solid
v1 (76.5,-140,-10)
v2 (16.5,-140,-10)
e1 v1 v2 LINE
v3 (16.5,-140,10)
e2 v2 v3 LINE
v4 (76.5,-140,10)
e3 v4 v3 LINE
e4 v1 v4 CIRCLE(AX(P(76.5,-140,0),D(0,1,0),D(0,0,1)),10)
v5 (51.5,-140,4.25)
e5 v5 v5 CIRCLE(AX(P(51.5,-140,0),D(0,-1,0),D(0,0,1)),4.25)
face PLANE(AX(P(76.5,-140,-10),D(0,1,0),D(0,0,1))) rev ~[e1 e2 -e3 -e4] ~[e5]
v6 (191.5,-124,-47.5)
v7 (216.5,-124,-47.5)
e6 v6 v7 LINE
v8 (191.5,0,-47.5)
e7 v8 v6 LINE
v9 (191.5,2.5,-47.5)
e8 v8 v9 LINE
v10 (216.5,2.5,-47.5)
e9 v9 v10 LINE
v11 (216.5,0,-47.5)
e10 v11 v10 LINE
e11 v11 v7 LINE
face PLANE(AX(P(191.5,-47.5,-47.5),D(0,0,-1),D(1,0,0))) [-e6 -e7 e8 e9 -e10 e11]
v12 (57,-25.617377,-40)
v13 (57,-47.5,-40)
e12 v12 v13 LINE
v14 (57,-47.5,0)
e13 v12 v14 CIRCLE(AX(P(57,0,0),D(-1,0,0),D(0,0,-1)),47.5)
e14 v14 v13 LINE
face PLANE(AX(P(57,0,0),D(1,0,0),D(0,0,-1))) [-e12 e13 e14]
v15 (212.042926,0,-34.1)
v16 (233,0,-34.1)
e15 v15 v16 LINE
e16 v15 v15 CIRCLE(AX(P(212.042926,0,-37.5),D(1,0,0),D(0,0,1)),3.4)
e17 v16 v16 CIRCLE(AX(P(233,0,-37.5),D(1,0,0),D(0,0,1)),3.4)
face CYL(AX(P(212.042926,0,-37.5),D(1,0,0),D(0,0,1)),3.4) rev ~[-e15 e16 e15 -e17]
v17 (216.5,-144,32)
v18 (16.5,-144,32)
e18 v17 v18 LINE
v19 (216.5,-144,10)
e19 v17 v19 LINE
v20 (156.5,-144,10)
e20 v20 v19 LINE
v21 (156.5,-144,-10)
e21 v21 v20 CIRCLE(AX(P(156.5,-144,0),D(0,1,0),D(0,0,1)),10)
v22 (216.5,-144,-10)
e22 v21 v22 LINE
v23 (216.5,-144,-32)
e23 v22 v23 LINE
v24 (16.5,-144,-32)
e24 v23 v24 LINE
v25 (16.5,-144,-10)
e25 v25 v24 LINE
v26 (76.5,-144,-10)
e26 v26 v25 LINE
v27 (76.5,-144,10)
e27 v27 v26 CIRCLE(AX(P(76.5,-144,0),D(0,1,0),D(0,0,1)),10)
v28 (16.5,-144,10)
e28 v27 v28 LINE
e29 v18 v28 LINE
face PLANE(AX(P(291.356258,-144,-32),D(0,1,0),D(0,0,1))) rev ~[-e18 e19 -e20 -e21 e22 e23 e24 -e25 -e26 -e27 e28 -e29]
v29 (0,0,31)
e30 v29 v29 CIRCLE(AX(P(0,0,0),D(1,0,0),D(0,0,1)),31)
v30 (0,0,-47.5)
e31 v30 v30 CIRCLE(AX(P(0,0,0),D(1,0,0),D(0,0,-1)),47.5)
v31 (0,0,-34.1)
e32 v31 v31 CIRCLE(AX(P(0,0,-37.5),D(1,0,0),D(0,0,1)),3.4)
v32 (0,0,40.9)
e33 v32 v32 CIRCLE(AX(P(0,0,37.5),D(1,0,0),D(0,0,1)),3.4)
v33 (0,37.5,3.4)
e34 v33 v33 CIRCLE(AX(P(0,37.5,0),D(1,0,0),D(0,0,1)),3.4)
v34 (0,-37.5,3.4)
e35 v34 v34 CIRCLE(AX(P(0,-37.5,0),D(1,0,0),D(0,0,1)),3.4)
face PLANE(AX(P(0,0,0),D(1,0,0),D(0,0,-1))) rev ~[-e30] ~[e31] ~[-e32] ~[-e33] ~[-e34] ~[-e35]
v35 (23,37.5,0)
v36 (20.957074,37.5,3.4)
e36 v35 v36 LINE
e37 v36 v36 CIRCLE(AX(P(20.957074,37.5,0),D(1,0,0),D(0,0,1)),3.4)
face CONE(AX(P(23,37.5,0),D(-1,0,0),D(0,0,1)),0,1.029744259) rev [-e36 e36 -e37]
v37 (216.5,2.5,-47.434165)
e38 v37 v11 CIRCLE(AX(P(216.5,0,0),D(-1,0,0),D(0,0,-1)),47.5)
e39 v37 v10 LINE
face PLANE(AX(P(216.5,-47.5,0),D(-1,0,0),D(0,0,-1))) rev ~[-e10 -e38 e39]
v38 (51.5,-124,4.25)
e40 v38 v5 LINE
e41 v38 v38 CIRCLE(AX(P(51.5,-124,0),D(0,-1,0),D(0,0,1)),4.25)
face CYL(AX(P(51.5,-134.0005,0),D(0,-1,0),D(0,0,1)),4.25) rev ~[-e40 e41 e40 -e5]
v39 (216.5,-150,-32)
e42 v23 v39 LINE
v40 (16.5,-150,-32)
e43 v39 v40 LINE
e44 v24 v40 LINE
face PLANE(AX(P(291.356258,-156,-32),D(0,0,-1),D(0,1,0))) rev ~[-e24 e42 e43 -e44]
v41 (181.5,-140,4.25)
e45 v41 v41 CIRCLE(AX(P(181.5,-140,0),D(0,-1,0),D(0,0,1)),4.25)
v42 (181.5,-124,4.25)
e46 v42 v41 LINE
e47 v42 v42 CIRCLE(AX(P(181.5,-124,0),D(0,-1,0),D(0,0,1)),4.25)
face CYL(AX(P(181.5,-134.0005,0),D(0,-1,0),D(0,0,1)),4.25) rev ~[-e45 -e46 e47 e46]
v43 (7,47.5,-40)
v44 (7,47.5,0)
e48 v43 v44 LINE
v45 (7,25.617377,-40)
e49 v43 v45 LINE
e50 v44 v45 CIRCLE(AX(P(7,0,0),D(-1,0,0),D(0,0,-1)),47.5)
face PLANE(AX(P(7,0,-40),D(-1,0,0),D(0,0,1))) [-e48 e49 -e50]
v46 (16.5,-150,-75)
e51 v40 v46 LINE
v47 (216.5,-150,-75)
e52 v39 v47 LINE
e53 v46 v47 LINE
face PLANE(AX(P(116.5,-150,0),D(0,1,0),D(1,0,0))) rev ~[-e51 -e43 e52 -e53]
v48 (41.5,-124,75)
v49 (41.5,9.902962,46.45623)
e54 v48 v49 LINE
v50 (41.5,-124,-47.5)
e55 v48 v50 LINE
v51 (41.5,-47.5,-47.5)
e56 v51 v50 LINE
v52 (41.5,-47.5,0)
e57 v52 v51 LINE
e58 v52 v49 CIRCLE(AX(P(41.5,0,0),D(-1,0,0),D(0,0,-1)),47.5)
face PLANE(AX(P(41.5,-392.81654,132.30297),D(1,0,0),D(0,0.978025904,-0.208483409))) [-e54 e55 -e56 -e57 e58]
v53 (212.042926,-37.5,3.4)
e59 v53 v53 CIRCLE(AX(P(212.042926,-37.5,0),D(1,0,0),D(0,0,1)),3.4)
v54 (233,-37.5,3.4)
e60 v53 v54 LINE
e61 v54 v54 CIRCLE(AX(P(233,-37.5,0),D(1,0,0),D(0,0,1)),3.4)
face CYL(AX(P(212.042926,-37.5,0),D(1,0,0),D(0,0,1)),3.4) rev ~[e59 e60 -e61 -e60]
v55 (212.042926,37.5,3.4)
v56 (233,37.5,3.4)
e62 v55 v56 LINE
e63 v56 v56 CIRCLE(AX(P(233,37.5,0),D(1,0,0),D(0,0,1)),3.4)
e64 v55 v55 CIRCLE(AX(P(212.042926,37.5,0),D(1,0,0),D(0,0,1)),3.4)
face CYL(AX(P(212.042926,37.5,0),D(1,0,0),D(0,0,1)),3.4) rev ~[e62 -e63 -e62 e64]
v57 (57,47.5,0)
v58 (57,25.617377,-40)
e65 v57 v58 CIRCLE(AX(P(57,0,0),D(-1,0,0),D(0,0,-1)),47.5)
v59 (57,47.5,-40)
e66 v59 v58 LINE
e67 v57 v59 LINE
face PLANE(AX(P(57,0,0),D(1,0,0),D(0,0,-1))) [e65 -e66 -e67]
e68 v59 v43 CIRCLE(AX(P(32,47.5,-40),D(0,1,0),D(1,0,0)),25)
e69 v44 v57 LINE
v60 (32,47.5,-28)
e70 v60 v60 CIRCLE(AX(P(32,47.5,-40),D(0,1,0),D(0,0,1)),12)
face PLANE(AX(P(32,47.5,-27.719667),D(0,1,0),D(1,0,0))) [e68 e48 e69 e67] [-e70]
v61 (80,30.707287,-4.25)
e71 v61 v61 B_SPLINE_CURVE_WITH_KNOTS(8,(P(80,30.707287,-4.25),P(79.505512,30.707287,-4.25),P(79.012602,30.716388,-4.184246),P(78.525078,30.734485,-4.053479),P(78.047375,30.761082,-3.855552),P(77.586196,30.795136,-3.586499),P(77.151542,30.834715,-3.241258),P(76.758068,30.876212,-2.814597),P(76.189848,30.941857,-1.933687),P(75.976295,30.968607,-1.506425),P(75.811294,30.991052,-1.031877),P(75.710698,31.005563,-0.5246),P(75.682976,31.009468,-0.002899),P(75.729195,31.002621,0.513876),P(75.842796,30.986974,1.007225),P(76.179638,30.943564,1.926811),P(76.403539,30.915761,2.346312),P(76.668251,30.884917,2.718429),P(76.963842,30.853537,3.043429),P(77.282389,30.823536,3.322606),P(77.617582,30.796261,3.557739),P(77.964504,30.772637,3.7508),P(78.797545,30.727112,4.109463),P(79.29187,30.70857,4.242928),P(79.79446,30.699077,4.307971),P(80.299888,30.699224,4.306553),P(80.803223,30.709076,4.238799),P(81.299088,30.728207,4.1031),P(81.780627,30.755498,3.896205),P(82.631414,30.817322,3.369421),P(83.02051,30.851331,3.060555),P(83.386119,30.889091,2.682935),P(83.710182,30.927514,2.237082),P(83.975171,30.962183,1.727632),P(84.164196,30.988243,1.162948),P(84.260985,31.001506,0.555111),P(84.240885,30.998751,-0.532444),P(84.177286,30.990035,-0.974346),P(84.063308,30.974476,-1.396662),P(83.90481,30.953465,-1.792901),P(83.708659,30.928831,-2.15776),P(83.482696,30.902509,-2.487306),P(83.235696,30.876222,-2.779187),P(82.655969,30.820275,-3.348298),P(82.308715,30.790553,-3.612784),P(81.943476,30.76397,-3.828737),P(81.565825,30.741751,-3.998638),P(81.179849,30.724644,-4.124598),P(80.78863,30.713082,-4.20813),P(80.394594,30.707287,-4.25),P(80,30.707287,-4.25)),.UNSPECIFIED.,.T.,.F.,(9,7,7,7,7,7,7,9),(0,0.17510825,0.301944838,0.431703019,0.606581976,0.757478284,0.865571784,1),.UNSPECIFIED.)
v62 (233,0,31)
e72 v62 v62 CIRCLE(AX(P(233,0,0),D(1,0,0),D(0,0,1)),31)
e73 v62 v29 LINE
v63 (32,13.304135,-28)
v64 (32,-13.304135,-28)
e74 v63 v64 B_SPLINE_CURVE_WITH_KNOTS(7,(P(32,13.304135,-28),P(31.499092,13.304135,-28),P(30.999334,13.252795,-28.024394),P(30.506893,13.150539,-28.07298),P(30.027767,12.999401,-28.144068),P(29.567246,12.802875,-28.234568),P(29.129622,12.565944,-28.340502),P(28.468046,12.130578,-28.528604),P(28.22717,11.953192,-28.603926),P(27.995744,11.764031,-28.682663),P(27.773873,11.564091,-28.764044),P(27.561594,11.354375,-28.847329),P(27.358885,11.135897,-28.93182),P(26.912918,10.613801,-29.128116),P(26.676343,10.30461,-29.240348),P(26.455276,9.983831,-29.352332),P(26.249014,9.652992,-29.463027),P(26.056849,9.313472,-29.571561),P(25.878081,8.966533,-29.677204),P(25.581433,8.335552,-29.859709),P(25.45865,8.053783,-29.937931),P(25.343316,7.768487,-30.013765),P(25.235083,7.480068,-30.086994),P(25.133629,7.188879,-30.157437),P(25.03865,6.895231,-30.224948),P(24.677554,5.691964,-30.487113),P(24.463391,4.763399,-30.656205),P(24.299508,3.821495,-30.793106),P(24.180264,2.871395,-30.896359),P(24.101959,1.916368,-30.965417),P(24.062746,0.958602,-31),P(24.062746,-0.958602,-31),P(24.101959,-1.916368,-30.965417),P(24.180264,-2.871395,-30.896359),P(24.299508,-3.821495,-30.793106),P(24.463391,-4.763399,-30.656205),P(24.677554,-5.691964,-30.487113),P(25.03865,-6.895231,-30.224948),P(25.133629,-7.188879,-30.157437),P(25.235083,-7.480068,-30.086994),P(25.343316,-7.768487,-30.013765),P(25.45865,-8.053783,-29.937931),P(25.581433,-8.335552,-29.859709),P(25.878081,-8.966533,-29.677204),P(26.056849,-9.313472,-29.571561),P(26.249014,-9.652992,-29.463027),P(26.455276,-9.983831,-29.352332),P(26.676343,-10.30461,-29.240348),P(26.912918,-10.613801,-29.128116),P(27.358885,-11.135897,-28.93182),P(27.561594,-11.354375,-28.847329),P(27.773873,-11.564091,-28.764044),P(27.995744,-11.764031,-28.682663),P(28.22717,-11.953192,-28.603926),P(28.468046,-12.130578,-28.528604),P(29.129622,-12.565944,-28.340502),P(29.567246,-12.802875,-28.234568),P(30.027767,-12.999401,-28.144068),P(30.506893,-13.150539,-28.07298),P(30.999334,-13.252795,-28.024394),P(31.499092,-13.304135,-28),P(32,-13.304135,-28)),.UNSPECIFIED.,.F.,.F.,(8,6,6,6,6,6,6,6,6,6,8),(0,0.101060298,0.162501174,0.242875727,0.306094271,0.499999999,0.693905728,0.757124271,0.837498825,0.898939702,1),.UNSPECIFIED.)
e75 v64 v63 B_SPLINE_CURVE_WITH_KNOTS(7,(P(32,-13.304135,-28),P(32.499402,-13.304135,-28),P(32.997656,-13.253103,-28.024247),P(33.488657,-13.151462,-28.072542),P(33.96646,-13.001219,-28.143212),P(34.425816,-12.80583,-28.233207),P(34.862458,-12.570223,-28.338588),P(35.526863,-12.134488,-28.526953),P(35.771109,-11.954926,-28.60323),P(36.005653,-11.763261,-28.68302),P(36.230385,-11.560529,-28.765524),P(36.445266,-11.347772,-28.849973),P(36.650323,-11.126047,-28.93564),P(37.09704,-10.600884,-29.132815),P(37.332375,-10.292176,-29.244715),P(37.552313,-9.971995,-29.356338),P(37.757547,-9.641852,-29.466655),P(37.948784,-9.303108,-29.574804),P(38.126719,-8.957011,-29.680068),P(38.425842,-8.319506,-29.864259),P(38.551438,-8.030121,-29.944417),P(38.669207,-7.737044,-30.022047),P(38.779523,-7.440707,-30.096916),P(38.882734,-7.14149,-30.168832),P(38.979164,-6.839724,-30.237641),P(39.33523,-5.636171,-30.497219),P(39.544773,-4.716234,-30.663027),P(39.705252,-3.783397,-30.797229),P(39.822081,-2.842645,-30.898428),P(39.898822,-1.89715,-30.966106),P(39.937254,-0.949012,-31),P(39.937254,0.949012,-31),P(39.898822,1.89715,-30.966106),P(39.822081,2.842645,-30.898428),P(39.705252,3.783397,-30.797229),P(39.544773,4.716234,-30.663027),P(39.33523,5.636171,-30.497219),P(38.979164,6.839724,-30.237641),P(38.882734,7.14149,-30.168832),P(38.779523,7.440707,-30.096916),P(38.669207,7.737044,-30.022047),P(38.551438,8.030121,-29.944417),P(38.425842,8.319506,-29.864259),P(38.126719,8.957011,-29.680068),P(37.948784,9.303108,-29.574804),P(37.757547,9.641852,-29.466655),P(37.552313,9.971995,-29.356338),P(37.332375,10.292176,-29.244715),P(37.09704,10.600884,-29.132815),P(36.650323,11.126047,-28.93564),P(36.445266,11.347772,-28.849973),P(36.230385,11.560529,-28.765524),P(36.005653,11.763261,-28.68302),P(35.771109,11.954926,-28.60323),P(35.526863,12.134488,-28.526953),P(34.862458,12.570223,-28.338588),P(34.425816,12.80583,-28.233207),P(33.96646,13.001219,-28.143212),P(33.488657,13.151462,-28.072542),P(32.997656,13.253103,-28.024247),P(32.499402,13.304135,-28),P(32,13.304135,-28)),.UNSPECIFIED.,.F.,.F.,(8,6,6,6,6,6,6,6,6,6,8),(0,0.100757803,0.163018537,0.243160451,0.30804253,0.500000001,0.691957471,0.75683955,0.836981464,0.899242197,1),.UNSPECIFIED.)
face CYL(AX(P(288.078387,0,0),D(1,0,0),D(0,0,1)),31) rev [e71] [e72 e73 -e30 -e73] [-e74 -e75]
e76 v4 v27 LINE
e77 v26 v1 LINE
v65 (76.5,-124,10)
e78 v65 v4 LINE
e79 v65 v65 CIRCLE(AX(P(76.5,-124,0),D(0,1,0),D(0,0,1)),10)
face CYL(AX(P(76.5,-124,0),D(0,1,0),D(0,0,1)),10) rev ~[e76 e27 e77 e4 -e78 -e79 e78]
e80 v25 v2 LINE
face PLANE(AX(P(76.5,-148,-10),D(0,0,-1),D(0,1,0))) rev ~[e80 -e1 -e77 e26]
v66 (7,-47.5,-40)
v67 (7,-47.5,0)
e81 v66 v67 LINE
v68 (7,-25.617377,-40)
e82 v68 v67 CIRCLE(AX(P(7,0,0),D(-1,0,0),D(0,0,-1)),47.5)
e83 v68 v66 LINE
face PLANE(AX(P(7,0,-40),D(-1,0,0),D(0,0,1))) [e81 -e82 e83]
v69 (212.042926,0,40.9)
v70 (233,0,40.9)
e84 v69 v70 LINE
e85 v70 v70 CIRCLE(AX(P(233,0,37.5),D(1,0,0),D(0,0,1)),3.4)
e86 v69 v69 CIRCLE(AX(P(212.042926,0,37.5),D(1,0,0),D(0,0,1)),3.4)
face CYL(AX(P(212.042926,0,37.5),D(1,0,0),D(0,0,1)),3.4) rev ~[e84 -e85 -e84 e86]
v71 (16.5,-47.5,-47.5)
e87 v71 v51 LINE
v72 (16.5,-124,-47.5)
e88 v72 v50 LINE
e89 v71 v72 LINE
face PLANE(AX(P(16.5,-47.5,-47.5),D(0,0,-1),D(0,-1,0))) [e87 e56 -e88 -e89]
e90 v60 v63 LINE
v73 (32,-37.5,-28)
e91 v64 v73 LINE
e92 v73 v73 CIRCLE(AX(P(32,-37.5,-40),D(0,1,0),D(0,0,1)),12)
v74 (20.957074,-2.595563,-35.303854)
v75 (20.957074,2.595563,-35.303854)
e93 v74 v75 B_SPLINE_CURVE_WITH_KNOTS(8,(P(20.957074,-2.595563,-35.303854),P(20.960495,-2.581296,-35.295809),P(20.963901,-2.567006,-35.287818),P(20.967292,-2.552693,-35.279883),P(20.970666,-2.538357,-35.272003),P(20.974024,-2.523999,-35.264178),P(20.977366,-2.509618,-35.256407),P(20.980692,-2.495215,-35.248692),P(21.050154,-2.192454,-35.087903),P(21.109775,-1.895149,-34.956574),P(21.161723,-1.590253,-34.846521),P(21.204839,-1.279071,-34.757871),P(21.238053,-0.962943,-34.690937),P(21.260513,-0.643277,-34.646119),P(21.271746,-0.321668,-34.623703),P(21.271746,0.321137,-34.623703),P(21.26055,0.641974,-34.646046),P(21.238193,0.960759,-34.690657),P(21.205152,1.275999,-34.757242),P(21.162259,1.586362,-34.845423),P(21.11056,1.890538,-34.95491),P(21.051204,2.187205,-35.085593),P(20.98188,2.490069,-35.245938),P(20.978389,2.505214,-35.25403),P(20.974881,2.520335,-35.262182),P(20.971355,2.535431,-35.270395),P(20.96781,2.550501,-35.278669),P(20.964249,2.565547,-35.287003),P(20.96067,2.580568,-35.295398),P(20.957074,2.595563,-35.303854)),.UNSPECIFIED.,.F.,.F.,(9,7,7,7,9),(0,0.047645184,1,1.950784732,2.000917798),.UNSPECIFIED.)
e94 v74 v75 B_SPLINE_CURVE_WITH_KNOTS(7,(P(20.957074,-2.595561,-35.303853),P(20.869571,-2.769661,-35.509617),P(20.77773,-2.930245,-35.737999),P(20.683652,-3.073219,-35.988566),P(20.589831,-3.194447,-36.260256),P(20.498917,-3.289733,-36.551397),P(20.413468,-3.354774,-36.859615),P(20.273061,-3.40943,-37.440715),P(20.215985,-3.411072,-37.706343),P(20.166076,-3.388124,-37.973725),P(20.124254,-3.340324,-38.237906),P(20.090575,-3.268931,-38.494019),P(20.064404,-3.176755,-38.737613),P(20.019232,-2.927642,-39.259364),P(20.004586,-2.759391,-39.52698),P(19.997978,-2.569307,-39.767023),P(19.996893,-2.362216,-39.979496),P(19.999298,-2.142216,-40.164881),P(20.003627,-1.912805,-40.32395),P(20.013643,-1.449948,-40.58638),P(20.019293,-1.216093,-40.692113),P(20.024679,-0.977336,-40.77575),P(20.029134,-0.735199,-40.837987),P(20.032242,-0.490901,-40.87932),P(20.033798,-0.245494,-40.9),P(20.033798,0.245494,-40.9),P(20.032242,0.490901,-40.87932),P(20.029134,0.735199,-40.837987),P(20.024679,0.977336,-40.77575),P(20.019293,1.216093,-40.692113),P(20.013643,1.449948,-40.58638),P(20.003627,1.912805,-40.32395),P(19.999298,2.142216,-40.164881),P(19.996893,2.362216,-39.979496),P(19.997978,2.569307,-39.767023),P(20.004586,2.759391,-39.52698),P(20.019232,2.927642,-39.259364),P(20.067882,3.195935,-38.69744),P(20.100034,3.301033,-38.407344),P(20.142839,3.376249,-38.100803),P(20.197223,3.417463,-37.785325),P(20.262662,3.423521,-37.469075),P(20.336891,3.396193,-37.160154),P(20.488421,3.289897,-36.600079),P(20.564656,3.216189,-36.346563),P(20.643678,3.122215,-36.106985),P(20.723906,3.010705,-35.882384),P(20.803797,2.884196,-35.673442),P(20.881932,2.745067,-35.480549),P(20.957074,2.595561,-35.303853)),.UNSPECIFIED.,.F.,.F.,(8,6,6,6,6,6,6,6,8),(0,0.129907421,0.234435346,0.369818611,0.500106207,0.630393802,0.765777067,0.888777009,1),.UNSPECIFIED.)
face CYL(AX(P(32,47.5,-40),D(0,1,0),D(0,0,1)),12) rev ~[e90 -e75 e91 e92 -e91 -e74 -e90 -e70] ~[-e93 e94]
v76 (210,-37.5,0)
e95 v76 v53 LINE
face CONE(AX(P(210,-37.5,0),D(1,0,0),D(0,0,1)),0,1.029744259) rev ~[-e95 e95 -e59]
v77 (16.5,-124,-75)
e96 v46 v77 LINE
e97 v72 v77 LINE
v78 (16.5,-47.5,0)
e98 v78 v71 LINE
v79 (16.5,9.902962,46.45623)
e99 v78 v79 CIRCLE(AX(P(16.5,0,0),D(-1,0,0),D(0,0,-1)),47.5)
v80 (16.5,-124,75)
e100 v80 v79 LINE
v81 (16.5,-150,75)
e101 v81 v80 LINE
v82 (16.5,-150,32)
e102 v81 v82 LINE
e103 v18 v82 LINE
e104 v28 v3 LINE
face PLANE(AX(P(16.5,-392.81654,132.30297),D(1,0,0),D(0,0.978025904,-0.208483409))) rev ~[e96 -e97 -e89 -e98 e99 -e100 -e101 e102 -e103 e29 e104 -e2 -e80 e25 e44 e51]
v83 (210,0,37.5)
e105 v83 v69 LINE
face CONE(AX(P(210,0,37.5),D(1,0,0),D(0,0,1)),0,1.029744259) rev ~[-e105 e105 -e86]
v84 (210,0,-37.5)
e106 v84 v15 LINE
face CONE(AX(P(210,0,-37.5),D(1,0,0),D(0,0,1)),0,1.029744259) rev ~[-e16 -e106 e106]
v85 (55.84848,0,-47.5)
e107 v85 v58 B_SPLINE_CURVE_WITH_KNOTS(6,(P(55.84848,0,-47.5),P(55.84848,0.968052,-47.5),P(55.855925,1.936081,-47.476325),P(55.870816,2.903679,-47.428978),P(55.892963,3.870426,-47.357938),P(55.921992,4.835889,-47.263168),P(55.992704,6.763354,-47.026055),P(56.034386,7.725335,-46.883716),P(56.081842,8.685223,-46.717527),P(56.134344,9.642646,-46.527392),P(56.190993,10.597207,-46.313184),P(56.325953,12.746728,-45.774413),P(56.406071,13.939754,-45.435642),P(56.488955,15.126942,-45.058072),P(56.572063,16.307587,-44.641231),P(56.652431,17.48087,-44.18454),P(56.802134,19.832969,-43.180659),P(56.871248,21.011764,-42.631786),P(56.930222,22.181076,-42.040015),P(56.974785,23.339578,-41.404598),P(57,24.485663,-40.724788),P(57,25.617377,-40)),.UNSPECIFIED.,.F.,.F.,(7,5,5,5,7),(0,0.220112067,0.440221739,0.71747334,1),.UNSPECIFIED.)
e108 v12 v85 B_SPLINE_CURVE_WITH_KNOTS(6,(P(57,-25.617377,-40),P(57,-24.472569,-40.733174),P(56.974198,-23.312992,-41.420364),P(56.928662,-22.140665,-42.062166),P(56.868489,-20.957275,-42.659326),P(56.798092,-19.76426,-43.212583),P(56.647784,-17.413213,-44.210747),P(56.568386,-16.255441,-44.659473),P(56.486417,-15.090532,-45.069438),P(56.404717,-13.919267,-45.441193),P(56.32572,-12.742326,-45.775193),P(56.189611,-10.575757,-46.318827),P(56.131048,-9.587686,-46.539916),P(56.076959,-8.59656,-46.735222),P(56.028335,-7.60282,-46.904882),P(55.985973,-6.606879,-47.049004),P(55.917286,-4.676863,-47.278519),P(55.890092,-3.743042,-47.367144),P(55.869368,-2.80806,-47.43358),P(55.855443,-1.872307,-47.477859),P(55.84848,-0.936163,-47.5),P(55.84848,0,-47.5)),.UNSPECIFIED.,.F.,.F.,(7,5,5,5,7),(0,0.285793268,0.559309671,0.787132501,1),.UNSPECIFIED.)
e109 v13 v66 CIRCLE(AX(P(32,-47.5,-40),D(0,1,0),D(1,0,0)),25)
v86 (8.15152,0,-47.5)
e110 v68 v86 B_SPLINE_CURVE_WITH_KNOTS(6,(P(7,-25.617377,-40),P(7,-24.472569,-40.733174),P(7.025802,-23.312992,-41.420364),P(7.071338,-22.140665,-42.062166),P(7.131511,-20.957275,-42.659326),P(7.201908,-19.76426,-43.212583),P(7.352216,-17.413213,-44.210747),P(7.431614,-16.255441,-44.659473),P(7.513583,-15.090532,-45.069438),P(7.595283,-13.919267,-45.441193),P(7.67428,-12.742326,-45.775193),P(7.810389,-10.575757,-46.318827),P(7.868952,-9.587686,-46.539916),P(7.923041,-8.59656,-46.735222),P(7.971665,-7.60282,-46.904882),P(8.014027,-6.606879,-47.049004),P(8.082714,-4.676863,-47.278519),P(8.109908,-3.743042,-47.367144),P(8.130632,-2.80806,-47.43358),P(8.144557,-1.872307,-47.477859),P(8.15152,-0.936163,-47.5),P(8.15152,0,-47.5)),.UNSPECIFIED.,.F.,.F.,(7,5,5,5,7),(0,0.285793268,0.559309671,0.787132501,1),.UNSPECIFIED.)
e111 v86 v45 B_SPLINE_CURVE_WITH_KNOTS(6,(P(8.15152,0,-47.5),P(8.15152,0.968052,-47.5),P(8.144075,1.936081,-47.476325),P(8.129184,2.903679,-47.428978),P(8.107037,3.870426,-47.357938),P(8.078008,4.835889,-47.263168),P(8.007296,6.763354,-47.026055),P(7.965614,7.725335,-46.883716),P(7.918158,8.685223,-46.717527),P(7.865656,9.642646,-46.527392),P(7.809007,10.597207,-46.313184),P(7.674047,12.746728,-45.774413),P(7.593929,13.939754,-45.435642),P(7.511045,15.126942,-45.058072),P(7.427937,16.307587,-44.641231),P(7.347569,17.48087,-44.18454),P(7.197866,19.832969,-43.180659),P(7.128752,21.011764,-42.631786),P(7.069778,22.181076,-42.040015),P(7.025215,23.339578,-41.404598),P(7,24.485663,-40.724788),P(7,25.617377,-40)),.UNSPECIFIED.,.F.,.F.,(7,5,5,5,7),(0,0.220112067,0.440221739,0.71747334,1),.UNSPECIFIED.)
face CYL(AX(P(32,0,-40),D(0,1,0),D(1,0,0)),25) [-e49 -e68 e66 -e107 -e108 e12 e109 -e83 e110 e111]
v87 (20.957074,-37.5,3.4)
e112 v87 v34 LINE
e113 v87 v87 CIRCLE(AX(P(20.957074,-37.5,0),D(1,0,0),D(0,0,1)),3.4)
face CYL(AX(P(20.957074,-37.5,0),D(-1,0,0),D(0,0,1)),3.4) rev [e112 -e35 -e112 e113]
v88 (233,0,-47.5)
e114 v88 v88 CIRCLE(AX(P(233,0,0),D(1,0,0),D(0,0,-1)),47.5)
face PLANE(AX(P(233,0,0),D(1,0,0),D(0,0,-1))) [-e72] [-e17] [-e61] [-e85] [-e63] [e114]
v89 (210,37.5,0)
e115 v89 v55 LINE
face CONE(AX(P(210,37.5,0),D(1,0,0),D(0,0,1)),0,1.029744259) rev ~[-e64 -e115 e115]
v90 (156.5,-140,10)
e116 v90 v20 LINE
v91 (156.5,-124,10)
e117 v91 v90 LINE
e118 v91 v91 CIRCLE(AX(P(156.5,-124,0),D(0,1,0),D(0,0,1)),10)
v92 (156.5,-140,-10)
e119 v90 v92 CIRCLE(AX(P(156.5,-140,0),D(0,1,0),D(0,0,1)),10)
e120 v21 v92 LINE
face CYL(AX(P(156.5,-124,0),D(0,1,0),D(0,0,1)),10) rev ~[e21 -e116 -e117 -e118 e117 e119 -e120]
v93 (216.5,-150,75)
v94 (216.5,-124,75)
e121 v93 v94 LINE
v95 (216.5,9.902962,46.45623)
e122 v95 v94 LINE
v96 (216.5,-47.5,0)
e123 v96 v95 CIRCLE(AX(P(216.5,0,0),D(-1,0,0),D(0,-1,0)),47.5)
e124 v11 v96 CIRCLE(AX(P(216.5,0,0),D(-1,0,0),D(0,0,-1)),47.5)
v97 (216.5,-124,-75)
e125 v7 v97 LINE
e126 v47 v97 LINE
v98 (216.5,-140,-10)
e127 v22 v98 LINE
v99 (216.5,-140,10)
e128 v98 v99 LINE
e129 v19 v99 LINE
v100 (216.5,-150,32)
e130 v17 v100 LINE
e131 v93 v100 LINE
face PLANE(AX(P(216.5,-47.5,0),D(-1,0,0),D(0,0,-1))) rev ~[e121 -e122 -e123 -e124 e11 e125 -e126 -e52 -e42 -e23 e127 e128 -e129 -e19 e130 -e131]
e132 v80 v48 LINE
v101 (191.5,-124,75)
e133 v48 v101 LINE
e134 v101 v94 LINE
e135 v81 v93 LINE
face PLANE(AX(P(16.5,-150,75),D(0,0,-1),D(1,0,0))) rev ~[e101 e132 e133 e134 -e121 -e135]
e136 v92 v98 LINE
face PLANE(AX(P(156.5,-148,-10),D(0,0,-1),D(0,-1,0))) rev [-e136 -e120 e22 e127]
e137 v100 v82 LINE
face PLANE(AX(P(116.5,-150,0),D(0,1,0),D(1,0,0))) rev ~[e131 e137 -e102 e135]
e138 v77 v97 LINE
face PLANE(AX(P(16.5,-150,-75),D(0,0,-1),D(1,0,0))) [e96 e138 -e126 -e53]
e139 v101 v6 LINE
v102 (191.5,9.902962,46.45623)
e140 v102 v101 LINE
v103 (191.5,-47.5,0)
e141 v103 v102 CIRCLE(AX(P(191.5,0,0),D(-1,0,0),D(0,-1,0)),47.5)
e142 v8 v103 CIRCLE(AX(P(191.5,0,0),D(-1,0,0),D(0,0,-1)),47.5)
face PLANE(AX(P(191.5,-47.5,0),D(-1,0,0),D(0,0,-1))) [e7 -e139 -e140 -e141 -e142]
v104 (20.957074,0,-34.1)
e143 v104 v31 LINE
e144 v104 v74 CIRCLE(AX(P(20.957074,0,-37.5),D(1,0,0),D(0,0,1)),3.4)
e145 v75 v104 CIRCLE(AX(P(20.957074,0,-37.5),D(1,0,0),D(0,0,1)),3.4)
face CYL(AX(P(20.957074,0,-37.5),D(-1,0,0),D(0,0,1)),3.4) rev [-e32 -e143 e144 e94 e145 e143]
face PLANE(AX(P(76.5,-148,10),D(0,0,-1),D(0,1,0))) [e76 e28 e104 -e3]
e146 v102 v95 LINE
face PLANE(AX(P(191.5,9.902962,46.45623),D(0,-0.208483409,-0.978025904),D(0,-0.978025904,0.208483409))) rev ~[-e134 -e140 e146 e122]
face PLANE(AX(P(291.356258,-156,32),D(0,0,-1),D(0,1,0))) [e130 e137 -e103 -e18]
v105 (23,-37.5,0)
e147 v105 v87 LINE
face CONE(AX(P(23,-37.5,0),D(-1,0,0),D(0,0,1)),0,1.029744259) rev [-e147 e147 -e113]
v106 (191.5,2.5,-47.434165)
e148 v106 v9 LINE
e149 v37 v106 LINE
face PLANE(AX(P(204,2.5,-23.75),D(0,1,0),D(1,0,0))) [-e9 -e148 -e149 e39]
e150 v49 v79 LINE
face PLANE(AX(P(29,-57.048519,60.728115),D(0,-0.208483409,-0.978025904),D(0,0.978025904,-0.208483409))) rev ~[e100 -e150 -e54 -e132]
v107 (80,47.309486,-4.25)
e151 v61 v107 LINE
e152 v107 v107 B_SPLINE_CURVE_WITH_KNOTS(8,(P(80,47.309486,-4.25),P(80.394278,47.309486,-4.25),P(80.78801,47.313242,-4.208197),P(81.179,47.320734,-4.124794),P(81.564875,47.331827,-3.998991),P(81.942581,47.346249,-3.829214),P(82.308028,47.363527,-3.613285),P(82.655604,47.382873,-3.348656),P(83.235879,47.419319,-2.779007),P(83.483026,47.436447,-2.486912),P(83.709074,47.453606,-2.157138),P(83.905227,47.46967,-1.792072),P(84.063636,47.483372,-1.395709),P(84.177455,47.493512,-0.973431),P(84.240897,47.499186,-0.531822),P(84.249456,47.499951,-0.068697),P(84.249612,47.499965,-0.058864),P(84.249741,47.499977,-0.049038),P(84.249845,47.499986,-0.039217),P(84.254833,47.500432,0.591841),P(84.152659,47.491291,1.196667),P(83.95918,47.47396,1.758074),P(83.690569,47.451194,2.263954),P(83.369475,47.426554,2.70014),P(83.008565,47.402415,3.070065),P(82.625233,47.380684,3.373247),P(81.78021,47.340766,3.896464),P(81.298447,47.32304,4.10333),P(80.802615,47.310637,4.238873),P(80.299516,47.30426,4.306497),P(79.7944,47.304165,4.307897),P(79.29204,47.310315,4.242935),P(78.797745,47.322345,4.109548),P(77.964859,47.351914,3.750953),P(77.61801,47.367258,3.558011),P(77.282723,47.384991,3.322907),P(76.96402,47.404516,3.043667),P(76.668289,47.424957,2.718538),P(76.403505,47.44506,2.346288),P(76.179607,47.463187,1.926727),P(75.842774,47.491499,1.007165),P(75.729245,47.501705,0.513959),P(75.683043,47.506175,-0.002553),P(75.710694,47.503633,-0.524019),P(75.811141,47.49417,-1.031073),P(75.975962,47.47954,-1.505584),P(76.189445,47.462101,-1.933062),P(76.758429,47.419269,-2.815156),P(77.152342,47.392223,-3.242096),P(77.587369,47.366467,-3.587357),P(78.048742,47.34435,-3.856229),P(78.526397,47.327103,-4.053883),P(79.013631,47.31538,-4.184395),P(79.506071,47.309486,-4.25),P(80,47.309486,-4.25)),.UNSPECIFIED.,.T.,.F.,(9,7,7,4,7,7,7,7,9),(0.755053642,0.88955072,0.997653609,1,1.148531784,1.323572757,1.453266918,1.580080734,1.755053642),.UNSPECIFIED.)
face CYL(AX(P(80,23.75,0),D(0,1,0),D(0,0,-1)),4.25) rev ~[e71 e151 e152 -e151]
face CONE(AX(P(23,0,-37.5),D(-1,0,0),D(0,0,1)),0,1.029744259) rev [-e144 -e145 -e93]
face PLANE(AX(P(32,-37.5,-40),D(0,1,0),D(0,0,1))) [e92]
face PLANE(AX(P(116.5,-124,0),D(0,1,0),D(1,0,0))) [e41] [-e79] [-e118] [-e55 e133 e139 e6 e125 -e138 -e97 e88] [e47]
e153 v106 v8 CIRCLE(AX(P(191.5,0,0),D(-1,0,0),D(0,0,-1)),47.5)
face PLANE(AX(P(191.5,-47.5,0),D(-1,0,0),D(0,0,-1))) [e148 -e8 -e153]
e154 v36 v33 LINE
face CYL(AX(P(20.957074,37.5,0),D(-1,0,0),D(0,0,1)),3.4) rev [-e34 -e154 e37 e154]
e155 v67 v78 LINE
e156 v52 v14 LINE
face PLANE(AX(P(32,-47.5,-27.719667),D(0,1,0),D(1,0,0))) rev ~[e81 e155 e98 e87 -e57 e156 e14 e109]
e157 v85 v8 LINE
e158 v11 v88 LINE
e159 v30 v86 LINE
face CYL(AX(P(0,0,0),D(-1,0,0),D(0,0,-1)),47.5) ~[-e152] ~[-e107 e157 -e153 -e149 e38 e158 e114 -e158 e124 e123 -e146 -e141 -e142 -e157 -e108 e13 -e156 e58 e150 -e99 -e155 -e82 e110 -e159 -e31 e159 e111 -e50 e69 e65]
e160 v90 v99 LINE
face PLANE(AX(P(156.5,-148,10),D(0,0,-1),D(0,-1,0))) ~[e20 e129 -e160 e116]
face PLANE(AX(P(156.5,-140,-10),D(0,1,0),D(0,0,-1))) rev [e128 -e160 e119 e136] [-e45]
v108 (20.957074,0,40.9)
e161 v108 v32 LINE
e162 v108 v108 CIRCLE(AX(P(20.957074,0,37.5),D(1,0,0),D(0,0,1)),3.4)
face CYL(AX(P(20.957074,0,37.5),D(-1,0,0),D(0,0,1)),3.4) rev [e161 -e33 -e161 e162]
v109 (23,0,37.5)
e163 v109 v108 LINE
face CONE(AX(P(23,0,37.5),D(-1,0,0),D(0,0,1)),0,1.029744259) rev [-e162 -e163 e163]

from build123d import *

# Parameters (mm, degrees)
SKETCH_2_R                   = 47.5
EXTRUDE_1_DEPTH              = 233
EXTRUDE_2_DEPTH              = 47.5
SKETCH_6_W                   = 200
SKETCH_6_H                   = 150
EXTRUDE_3_DEPTH              = 26
CUT_EXTRUDE_2_DEPTH          = 274.856257996
CUT_EXTRUDE_2_DEPTH_BACK     = 274.856257996
SKETCH_7_W                   = 64
SKETCH_7_H                   = 12
SKETCH_9_R                   = 10
CUT_EXTRUDE_3_DEPTH          = 20
SKETCH_11_W                  = 4.25
SKETCH_11_H                  = 20.001
HOLE_WIZARD_M10_1_AT_2_COUNT = 2
HOLE_WIZARD_M10_1_AT_2_PITCH = 130
CUT_EXTRUDE_START            = -60
SKETCH_12_W                  = 20
SKETCH_12_H                  = 8
CUT_EXTRUDE_4_DEPTH          = 60
EXTRUDE_6_DEPTH              = 25
RIB_8_REACH                  = 275.856
SKETCH_18_WALL_W             = 686.623983736
SKETCH_18_WALL_H             = 25
EXTRUDE_START                = -25
EXTRUDE_7_DEPTH              = 25
SKETCH_20_W                  = 25
SKETCH_20_H                  = 47.5
EXTRUDE_10_DEPTH             = 50
CUT_EXTRUDE_1_DEPTH          = 288.078386589
CUT_EXTRUDE_1_DEPTH_BACK     = 288.078386589
SKETCH_3_R                   = 31
HOLE_WIZARD_M8_1_AT_2_COUNT  = 2
HOLE_WIZARD_M8_1_AT_2_PITCH  = 53.033008589
HOLE_WIZARD_M8_1_AT_3_COUNT  = 2
HOLE_WIZARD_M8_1_AT_3_PITCH  = 75
HOLE_WIZARD_M8_1_AT_4_COUNT  = 2
HOLE_WIZARD_M8_1_AT_4_PITCH  = 53.033008589
SKETCH_27_W                  = 4.25
SKETCH_27_H                  = 47.5
SKETCH_16_R                  = 12
CUT_EXTRUDE_6_DEPTH          = 85


with BuildPart() as part:
    # 草图2 → 凸台-拉伸1 (new body)
    with BuildSketch(Plane(origin=(0, 0, 0), x_dir=(0, 0, -1), z_dir=(1, 0, 0))):
        Circle(SKETCH_2_R)
    extrude(amount=EXTRUDE_1_DEPTH)

    # 草图4 → 凸台-拉伸2 (add, symmetric)
    with BuildSketch(Plane(origin=(0, 0, 0), x_dir=(1, 0, 0), z_dir=(0, 1, 0))):
        with BuildLine():
            Line((7, 40), (7, 0))
            Line((7, 0), (57, 0))
            Line((57, 0), (57, 40))
            ThreePointArc((57, 40), (32, 65), (7, 40))
        make_face()
    extrude(amount=EXTRUDE_2_DEPTH, both=True)



with BuildPart() as body_2:
    # 草图6 → 凸台-拉伸3 (new body)
    with BuildSketch(Plane(origin=(0, -150, 0), x_dir=(1, 0, 0), z_dir=(0, 1, 0))):
        with Locations((116.5, 0)):
            Rectangle(SKETCH_6_W, SKETCH_6_H)
    extrude(amount=EXTRUDE_3_DEPTH)

    # 草图7 → 切除-拉伸2 (cut, two sides: drawn at the far end of the back side and taken through both)
    with BuildSketch(Plane.ZY.offset(-16.5).offset(-CUT_EXTRUDE_2_DEPTH_BACK)):
        with Locations((0, -150)):
            Rectangle(SKETCH_7_W, SKETCH_7_H)
    extrude(amount=CUT_EXTRUDE_2_DEPTH + CUT_EXTRUDE_2_DEPTH_BACK, mode=Mode.SUBTRACT)

    # 草图9 → 切除-拉伸3 (cut)
    with BuildSketch(Plane(origin=(0, -124, 0), x_dir=(1, 0, 0), z_dir=(0, 1, 0))):
        with Locations(Location((76.5, 0, 0), (0, 0, 270))):
            Circle(SKETCH_9_R)
        with Locations(Location((156.5, 0, 0), (0, 0, 270))):
            Circle(SKETCH_9_R)
    extrude(amount=-CUT_EXTRUDE_3_DEPTH, mode=Mode.SUBTRACT)

    # 草图11 → Hole Wizard M10 _1 (revolve, cut)
    with BuildSketch(Plane(origin=(181.5, -124, 0), x_dir=(0, 0, 1), z_dir=(1, 0, 0))):
        with Locations((2.125, 10.0005)):
            Rectangle(SKETCH_11_W, SKETCH_11_H)
    hole_wizard_m10_1 = revolve(axis=Axis((181.5, -117.65, 0), (0, -1, 0)), mode=Mode.SUBTRACT)

    # Hole Wizard M10 _1 at 2: Hole Wizard M10 _1 ×2
    with Locations(*[(-i * HOLE_WIZARD_M10_1_AT_2_PITCH, 0, 0) for i in range(1, HOLE_WIZARD_M10_1_AT_2_COUNT)]):
        add(hole_wizard_m10_1, mode=Mode.SUBTRACT)

    # 草图12 → 切除-拉伸4 (cut)
    with BuildSketch(Plane.ZY.offset(-16.5).offset(CUT_EXTRUDE_START)):
        with Locations((0, -144)):
            Rectangle(SKETCH_12_W, SKETCH_12_H)
    cut_extrude_4 = extrude(amount=CUT_EXTRUDE_4_DEPTH, mode=Mode.SUBTRACT)

    # 镜向1: 切除-拉伸4 across plane
    add(cut_extrude_4.mirror(Plane.ZY.offset(-116.5)), mode=Mode.SUBTRACT)


with BuildPart() as part_1:
    add(part.part)

    add(body_2.part)  # 凸台-拉伸6 merges body 2
    # 草图13 → 凸台-拉伸6 (add)
    with BuildSketch(Plane.ZY.offset(-16.5)):
        with BuildLine():
            Line((-47.5, -124), (-35, -124))
            Line((-35, -124), (-35, -82.5))
            ThreePointArc((-35, -82.5), (-24.748737342, -57.751262658), (0, -47.5))
            Line((0, -47.5), (-47.5, -47.5))
            Line((-47.5, -47.5), (-47.5, -124))
        make_face()
    extrude(amount=-EXTRUDE_6_DEPTH)

    # 草图18 wall → 筋8 (add, up to next)
    with BuildSketch(Plane(origin=(16.5, -57.048519027, 60.728115209), x_dir=(0, 0.978025903544, -0.208483409404), z_dir=(0, -0.208483409404, -0.978025903544)), mode=Mode.PRIVATE) as rib_8_sk1:
        with Locations((0, 12.5)):
            Rectangle(SKETCH_18_WALL_W, SKETCH_18_WALL_H)
    rib_8_tool1 = extrude(rib_8_sk1.sketch, amount=RIB_8_REACH, mode=Mode.PRIVATE) - part_1.part
    add(rib_8_tool1.solids().sort_by_distance((16.5, -57.048519027, 60.728115209))[0])

    # 草图19 → 凸台-拉伸7 (add)
    with BuildSketch(Plane(origin=(216.5, 0, 0), x_dir=(0, 0, -1), z_dir=(1, 0, 0)).offset(EXTRUDE_START)):
        with BuildLine():
            Line((47.5, -47.5), (0, -47.5))
            ThreePointArc((0, -47.5), (-36.92316815, -29.881928548), (-46.456230418, 9.902961947))
            Line((-46.456230418, 9.902961947), (-75, -124))
            Line((-75, -124), (47.5, -124))
            Line((47.5, -124), (47.5, -47.5))
        make_face()
    extrude(amount=EXTRUDE_7_DEPTH)

    # 草图20 → 凸台-拉伸10 (add)
    with BuildSketch(Plane(origin=(0, -47.5, 0), x_dir=(1, 0, 0), z_dir=(0, 1, 0))):
        with Locations((204, 23.75)):
            Rectangle(SKETCH_20_W, SKETCH_20_H)
    extrude(amount=EXTRUDE_10_DEPTH)

    # 草图3 → 切除-拉伸1 (cut, two sides: drawn at the far end of the back side and taken through both)
    with BuildSketch(Plane.ZY.offset(-CUT_EXTRUDE_1_DEPTH_BACK)):
        Circle(SKETCH_3_R)
    extrude(amount=CUT_EXTRUDE_1_DEPTH + CUT_EXTRUDE_1_DEPTH_BACK, mode=Mode.SUBTRACT)

    # 草图25 → M8 螺纹孔1 (revolve, cut)
    with BuildSketch(Plane(origin=(0, 0, -37.5), x_dir=(0, 0, 1), z_dir=(0, 1, 0))):
        Polygon((0, 0), (0, 23), (3.4, 20.957073895), (3.4, 0), align=None)
    hole_wizard_m8_1 = revolve(axis=Axis((-6.35, 0, -37.5), (1, 0, 0)), mode=Mode.SUBTRACT)

    # M8 螺纹孔1 at 2: M8 螺纹孔1 ×2
    with Locations(*[Vector(0, 0.7071067811865476, 0.7071067811865476) * (i * HOLE_WIZARD_M8_1_AT_2_PITCH) for i in range(1, HOLE_WIZARD_M8_1_AT_2_COUNT)]):
        add(hole_wizard_m8_1, mode=Mode.SUBTRACT)

    # M8 螺纹孔1 at 3: M8 螺纹孔1 ×2
    with Locations(*[(0, 0, i * HOLE_WIZARD_M8_1_AT_3_PITCH) for i in range(1, HOLE_WIZARD_M8_1_AT_3_COUNT)]):
        add(hole_wizard_m8_1, mode=Mode.SUBTRACT)

    # M8 螺纹孔1 at 4: M8 螺纹孔1 ×2
    with Locations(*[Vector(0, -0.7071067811865476, 0.7071067811865476) * (i * HOLE_WIZARD_M8_1_AT_4_PITCH) for i in range(1, HOLE_WIZARD_M8_1_AT_4_COUNT)]):
        add(hole_wizard_m8_1, mode=Mode.SUBTRACT)

    # 镜向6: M8 螺纹孔1 across plane
    add(hole_wizard_m8_1.mirror(Plane.ZY.offset(-116.5)), mode=Mode.SUBTRACT)

    # 镜向6 copy 1 sketch → 镜向6 copy 1 (revolve, cut)
    with BuildSketch(Plane(origin=(233, 37.5, 0), x_dir=(0, 0, 1), z_dir=(0, 1, 0))):
        Polygon((0, 0), (0, -23), (3.4, -20.957073895), (3.4, 0), align=None)
    revolve(axis=Axis((239.35, 37.5, 0), (1, 0, 0)), mode=Mode.SUBTRACT)

    # 镜向6 copy 2 sketch → 镜向6 copy 2 (revolve, cut)
    with BuildSketch(Plane(origin=(233, 0, 37.5), x_dir=(0, 0, 1), z_dir=(0, 1, 0))):
        Polygon((0, 0), (0, -23), (3.4, -20.957073895), (3.4, 0), align=None)
    revolve(axis=Axis((239.35, 0, 37.5), (1, 0, 0)), mode=Mode.SUBTRACT)

    # 镜向6 copy 3 sketch → 镜向6 copy 3 (revolve, cut)
    with BuildSketch(Plane(origin=(233, -37.5, 0), x_dir=(0, 0, 1), z_dir=(0, 1, 0))):
        Polygon((0, 0), (0, -23), (3.4, -20.957073895), (3.4, 0), align=None)
    revolve(axis=Axis((239.35, -37.5, 0), (1, 0, 0)), mode=Mode.SUBTRACT)

    # 草图27 → Hole Wizard M10 _1 2 (revolve, cut)
    with BuildSketch(Plane(origin=(80, 0, 0), x_dir=(0, 0, -1), z_dir=(1, 0, 0))):
        with Locations((2.125, 23.75)):
            Rectangle(SKETCH_27_W, SKETCH_27_H)
    revolve(axis=Axis((80, -6.35, 0), (0, 1, 0)), mode=Mode.SUBTRACT)

    # 草图16 → 切除-拉伸6 (cut)
    with BuildSketch(Plane(origin=(0, 47.5, 0), x_dir=(1, 0, 0), z_dir=(0, 1, 0))):
        with Locations(Location((32, 40, 0), (0, 0, 270))):
            Circle(SKETCH_16_R)
    extrude(amount=-CUT_EXTRUDE_6_DEPTH, mode=Mode.SUBTRACT)


solid = part_1.part
